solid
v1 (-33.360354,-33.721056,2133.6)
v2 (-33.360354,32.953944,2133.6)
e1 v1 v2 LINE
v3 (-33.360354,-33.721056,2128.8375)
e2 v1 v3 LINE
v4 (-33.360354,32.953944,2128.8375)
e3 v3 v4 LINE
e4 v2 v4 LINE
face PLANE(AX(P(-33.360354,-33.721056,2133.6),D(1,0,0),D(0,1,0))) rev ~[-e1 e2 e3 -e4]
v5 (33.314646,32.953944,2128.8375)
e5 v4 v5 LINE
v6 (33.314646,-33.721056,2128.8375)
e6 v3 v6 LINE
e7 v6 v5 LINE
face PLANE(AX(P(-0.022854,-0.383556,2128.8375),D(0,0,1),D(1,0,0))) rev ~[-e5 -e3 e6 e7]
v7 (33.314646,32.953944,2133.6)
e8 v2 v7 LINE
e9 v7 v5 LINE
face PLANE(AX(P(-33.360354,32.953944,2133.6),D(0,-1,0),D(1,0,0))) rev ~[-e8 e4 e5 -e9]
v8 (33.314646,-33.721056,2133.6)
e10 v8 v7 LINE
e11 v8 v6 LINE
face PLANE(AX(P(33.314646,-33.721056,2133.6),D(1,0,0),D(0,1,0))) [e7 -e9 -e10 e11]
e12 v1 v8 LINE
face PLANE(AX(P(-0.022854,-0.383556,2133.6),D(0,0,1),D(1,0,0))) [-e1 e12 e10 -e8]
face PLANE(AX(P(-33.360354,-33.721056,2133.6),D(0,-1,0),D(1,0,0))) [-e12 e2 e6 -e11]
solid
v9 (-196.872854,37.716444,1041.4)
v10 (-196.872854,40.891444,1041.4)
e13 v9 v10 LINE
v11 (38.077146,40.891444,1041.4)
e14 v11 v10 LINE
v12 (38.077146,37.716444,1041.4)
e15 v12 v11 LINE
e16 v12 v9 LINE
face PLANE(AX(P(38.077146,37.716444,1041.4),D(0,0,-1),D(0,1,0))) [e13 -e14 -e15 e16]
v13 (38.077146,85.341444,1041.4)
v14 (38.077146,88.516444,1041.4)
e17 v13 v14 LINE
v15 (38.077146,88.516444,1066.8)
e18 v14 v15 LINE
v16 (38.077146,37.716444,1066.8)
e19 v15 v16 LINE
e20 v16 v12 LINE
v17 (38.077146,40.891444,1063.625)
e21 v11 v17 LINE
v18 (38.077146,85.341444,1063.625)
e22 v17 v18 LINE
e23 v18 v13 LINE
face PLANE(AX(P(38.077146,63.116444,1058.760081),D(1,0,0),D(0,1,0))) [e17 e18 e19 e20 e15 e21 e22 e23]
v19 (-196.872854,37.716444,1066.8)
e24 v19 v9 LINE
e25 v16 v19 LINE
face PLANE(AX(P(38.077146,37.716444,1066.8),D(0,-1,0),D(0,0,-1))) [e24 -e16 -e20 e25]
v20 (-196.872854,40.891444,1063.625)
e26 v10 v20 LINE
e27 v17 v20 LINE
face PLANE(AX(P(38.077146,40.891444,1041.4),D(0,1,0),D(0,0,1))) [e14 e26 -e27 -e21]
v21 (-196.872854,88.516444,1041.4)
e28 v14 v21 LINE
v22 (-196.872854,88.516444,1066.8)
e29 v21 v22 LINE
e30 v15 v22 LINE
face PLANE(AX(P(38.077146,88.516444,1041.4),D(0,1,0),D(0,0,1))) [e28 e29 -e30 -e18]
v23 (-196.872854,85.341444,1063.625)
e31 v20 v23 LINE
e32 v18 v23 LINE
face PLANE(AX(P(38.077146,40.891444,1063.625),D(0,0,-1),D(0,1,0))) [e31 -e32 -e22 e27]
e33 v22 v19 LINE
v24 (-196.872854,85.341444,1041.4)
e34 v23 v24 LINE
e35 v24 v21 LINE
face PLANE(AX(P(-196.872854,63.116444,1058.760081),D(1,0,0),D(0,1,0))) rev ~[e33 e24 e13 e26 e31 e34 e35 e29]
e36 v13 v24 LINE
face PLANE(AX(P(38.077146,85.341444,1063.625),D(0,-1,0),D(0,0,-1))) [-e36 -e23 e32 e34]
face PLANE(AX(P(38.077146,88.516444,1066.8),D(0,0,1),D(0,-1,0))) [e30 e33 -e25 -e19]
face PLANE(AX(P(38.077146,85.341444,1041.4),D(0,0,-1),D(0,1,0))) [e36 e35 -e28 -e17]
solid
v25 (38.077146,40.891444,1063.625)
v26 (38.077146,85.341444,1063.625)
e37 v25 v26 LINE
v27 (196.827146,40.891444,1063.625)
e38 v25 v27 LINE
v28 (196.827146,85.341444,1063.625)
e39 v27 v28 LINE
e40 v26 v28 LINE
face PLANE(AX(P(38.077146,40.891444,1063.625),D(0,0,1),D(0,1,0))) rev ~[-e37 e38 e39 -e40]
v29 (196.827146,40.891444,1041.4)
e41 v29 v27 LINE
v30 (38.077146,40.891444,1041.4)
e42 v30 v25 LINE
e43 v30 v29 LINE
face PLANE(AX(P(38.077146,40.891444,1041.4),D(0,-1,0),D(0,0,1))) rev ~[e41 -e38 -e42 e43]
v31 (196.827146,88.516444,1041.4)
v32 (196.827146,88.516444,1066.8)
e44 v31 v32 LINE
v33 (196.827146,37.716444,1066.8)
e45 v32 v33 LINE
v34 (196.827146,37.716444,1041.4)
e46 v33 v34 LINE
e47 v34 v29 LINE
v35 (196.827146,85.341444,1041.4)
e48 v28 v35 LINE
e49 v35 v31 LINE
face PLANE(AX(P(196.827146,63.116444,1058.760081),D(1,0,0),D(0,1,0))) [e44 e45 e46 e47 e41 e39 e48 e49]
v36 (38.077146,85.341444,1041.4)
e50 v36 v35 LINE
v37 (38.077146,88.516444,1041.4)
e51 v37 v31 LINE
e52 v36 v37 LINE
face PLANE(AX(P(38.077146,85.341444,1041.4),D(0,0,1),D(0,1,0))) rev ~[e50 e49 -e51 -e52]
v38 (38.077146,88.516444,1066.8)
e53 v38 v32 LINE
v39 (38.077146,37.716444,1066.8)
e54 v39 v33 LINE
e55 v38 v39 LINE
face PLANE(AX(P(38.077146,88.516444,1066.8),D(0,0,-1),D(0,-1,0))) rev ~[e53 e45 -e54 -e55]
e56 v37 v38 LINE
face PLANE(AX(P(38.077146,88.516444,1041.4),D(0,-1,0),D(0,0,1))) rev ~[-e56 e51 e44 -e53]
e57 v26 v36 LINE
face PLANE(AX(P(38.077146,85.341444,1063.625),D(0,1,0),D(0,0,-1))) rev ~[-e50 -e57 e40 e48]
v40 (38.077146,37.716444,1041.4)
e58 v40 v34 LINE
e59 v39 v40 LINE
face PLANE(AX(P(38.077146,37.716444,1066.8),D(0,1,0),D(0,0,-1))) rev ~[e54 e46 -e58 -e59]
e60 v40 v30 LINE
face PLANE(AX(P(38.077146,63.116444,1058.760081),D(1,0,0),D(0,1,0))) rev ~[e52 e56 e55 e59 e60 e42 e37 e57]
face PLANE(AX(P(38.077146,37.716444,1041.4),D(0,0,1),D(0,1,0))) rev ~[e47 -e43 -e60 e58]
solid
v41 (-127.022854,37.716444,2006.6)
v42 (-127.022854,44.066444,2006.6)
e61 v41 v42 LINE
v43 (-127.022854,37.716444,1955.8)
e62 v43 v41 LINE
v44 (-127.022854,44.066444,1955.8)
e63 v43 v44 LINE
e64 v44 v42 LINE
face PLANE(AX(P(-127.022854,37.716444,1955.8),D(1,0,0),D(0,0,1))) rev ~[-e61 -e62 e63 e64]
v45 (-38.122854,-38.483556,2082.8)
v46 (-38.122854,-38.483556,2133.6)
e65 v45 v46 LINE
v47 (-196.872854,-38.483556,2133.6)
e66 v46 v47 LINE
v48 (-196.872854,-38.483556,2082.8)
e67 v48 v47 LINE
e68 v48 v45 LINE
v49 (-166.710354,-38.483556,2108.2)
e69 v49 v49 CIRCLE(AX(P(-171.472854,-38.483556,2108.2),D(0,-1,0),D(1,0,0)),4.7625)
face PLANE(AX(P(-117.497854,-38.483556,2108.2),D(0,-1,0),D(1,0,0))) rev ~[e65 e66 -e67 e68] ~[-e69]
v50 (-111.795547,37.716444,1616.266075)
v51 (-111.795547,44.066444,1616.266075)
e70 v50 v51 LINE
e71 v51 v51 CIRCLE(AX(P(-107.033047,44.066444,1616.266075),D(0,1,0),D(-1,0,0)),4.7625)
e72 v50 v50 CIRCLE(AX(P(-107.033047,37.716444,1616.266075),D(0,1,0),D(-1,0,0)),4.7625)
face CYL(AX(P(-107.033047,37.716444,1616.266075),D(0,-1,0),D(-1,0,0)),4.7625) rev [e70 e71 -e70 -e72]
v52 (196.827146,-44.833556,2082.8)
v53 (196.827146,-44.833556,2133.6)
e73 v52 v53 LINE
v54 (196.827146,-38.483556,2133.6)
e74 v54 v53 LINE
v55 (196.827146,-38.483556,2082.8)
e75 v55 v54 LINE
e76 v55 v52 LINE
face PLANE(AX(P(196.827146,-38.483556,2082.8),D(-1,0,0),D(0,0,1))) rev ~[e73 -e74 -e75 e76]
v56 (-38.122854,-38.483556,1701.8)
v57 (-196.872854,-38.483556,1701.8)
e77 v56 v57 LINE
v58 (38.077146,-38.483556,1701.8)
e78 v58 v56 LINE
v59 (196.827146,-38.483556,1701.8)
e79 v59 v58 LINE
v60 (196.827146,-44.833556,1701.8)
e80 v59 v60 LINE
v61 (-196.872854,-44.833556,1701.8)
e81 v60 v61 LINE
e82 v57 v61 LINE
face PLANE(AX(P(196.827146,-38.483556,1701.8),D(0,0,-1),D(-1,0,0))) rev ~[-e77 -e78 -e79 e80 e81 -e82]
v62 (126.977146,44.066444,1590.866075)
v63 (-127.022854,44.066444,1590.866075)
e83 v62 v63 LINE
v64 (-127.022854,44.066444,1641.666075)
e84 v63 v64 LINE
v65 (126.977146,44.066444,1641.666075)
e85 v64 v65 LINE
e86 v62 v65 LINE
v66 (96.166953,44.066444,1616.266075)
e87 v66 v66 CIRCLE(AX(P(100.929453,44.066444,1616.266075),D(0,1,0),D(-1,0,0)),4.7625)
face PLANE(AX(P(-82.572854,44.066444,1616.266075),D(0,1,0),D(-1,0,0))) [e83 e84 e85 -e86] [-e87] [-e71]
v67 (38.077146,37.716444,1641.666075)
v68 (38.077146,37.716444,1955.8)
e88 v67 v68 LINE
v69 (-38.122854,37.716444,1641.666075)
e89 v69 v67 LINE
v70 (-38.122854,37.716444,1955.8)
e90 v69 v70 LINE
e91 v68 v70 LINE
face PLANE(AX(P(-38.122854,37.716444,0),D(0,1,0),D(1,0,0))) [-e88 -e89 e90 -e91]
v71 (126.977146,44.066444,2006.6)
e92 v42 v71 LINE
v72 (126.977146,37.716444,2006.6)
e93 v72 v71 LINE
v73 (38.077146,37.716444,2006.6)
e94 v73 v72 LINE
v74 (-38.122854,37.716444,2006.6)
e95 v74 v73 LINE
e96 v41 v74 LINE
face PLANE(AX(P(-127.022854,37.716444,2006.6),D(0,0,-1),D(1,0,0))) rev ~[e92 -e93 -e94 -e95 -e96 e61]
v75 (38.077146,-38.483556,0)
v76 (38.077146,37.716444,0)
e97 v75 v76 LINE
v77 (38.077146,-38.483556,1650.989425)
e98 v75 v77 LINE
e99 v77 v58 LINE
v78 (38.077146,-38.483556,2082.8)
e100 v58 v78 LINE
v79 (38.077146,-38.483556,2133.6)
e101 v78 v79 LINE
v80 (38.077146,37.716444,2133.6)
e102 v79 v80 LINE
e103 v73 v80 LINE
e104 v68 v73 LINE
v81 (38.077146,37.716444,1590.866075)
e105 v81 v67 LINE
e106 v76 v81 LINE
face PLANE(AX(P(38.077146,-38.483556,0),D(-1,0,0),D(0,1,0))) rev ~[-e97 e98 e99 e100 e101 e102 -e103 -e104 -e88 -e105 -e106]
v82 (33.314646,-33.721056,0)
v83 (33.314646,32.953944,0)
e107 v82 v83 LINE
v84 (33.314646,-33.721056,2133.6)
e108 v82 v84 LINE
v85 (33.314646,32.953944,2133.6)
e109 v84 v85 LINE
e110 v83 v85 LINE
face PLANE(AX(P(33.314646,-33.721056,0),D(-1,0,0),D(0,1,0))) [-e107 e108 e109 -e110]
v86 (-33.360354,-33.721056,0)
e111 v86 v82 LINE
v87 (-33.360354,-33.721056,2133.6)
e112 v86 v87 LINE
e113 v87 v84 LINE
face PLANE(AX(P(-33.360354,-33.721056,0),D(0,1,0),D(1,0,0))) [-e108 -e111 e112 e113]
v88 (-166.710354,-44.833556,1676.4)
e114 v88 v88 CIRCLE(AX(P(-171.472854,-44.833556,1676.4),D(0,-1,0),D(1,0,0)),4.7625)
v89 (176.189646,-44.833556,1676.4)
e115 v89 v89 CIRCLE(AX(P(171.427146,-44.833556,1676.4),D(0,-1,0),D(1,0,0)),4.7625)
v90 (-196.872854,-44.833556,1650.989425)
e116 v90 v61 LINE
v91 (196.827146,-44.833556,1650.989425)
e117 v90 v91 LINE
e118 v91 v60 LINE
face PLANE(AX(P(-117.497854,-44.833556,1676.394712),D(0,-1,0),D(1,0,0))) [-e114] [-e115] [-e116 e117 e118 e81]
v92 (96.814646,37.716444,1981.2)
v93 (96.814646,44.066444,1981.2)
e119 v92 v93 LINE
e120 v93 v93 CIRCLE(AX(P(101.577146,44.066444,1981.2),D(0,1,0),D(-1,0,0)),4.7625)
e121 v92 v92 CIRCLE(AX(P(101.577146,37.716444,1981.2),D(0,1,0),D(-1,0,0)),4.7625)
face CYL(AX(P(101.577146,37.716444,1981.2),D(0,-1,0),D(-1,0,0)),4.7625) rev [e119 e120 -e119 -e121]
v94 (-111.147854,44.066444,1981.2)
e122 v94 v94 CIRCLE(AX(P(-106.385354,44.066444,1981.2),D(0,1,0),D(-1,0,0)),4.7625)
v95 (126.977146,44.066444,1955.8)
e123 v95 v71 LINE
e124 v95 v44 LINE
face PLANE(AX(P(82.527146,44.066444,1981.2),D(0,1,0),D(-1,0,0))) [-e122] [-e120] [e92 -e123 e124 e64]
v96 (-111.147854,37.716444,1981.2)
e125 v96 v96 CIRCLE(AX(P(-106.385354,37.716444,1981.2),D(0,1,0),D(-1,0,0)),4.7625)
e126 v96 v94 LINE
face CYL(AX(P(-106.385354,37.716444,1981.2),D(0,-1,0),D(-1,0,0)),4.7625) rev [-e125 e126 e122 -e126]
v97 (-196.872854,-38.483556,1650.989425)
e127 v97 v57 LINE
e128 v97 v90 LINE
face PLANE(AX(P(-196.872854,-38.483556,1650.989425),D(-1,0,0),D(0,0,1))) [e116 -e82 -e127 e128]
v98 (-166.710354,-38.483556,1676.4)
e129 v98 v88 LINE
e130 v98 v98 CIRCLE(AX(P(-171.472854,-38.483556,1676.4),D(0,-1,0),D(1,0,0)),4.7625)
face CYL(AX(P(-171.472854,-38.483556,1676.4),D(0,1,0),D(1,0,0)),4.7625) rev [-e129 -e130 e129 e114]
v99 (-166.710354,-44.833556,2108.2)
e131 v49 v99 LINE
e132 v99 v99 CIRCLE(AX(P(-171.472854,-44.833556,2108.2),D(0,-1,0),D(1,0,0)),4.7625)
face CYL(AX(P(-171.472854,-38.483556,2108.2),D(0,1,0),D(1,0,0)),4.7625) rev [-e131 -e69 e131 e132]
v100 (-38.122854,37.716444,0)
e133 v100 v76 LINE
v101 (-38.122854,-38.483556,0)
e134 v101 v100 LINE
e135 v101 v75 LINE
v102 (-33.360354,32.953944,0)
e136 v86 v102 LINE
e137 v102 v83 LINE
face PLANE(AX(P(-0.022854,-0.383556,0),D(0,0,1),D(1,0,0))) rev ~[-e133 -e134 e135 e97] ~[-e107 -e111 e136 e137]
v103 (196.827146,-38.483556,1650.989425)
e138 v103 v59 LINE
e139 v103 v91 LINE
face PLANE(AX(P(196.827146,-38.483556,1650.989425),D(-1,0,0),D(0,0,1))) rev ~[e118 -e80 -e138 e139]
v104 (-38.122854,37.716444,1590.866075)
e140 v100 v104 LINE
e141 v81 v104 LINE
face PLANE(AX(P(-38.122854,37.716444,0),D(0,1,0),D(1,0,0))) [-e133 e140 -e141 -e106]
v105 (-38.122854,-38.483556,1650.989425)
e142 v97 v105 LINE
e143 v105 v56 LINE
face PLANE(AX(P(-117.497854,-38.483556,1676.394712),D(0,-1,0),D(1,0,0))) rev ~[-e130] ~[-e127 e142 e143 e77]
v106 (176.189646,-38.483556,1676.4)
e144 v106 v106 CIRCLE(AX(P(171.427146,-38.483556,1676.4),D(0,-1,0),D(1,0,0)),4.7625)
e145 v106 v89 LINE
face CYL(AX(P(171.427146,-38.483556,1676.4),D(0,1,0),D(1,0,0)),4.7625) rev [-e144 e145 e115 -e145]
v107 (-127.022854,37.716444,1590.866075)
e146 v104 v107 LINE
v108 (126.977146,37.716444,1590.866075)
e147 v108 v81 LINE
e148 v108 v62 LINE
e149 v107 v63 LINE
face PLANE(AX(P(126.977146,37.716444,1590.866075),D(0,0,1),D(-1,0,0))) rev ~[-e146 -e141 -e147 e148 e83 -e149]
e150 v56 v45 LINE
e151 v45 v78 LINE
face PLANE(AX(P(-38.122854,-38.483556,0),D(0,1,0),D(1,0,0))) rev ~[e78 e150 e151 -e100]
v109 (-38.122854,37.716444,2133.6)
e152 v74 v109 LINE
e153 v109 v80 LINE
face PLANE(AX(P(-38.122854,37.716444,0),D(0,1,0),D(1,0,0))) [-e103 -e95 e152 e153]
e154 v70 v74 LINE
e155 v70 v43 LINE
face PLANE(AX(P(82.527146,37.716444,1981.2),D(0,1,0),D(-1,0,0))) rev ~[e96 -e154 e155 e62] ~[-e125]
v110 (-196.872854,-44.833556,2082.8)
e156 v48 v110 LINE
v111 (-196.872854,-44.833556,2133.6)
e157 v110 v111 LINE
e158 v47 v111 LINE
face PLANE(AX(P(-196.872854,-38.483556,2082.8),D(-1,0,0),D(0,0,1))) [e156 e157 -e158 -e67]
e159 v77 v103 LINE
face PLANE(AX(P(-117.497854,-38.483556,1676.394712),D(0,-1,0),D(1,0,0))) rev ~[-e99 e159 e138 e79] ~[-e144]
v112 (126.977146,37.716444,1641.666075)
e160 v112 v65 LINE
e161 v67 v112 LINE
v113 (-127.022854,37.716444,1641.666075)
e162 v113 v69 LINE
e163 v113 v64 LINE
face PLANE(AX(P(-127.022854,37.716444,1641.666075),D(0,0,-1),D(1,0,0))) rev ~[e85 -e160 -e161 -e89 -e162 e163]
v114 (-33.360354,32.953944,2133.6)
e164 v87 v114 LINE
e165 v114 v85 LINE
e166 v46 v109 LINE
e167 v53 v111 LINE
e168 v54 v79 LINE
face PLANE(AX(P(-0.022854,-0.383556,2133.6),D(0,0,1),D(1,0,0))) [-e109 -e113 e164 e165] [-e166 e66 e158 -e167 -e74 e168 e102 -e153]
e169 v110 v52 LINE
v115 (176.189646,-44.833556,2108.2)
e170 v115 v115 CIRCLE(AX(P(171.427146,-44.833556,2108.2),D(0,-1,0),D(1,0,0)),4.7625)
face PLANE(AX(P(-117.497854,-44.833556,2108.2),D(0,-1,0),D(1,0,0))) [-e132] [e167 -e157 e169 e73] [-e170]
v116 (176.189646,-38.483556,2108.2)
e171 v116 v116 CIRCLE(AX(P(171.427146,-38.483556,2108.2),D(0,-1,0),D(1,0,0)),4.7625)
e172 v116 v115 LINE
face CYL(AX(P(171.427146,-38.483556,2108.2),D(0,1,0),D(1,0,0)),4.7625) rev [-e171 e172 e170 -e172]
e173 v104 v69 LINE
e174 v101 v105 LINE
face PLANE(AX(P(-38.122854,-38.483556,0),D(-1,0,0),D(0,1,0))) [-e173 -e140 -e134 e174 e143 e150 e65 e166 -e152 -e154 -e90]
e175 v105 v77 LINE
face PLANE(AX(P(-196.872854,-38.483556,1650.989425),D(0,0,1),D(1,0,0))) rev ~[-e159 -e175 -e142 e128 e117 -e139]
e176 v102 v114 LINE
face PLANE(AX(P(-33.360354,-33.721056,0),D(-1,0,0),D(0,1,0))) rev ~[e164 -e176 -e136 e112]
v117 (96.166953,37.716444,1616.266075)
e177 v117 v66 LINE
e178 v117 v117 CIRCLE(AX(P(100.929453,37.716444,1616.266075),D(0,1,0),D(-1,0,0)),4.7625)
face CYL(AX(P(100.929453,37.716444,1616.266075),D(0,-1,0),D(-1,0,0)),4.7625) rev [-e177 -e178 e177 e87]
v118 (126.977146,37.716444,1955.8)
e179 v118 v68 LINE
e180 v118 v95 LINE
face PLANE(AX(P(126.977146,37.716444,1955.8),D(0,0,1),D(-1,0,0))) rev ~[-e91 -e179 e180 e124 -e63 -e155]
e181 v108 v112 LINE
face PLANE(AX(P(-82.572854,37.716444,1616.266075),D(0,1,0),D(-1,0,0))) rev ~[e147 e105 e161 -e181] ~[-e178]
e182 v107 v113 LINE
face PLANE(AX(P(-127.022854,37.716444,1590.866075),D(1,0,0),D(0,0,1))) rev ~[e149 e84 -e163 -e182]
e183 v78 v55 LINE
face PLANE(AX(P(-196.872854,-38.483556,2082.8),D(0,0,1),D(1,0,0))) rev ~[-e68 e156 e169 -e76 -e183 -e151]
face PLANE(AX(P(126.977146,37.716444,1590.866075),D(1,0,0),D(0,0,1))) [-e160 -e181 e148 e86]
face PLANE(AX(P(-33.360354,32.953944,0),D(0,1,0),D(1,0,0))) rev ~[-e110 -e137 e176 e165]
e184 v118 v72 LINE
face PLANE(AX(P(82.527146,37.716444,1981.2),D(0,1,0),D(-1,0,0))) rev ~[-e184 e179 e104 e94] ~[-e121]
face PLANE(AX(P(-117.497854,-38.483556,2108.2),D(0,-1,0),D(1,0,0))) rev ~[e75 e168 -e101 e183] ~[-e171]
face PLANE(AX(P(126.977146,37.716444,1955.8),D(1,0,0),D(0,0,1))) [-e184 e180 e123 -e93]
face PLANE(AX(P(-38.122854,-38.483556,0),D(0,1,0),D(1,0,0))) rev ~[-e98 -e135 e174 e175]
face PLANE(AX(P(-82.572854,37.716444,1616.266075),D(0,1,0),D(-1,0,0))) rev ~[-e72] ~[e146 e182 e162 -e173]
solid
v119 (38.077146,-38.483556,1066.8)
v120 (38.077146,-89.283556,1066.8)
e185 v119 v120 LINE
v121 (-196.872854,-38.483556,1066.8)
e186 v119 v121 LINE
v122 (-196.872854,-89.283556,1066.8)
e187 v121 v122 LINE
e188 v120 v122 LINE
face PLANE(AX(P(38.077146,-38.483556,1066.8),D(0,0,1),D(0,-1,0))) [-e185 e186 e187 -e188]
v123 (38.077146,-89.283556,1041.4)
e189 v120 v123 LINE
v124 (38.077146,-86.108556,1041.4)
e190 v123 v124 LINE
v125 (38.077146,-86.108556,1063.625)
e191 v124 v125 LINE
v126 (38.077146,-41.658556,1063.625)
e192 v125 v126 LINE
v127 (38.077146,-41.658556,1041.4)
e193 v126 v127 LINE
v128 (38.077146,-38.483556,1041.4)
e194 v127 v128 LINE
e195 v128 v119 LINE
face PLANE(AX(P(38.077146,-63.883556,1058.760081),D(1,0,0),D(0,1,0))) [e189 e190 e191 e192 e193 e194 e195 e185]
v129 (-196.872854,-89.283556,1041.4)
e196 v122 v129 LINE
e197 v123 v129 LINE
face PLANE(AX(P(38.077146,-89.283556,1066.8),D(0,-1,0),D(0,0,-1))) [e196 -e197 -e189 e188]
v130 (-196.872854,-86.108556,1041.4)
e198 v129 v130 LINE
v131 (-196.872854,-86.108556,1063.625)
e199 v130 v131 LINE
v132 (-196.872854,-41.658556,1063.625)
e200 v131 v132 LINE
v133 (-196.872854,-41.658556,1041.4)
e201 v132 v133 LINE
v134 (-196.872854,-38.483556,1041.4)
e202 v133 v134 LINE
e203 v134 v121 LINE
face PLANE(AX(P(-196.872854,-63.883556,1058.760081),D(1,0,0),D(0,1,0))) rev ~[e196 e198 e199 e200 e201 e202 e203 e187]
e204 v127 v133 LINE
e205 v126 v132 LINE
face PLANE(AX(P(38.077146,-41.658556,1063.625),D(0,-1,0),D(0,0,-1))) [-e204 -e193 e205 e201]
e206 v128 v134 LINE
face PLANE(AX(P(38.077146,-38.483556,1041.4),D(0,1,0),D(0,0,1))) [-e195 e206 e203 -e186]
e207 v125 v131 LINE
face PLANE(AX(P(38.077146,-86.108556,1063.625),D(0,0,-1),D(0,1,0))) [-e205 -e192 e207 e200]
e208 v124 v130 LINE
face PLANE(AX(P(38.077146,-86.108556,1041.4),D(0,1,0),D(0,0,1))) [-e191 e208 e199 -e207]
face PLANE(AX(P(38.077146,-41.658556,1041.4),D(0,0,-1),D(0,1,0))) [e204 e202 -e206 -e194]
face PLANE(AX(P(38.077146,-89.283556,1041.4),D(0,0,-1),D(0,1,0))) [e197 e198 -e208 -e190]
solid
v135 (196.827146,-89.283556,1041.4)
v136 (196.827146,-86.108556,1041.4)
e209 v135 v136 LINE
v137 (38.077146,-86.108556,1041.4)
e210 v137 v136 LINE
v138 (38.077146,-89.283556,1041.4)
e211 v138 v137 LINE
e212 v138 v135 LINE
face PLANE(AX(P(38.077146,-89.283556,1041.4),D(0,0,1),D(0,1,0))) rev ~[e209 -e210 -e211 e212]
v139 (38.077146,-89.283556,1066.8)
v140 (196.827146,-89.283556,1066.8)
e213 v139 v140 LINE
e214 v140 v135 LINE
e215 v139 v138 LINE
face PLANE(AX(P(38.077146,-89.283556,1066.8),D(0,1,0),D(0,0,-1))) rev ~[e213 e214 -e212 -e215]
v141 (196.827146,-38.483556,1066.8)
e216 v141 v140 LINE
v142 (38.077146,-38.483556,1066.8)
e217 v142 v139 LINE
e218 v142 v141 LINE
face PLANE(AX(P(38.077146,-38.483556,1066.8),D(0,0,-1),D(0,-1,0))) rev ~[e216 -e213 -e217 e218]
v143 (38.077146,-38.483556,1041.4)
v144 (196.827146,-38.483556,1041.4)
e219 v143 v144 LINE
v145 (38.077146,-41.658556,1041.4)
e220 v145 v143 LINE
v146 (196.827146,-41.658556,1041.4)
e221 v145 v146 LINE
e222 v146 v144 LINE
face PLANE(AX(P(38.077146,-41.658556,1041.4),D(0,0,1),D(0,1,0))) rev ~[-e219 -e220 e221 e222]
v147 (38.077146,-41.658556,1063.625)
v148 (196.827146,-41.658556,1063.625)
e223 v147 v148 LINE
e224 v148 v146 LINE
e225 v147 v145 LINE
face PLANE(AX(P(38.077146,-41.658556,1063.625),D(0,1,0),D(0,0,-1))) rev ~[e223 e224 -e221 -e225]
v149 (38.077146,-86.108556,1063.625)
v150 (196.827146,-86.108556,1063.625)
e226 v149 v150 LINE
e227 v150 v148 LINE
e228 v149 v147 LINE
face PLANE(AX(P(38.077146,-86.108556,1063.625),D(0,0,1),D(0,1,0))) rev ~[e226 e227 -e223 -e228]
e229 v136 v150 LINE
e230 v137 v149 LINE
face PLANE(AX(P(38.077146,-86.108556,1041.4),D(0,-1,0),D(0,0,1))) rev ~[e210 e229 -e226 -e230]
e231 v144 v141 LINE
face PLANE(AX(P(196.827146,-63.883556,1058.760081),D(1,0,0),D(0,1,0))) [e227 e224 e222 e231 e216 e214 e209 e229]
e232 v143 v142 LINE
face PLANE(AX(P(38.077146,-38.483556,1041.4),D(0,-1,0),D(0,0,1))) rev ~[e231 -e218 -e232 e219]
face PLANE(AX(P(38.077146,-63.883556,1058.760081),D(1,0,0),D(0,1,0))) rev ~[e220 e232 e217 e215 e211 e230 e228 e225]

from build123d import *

# Parameters (mm, degrees)
F0_W      = 76.2
F0_H      = 76.2
F0_W_2    = 66.675
F0_H_2    = 66.675
F1_DEPTH  = 2133.6
F2_W      = 66.675
F2_H      = 66.675
F4_DEPTH  = 4.7625
F5_W      = 158.75
F5_H      = 50.8105754852
F5_R      = 4.7625
F5_W_2    = 76.2
F5_H_2    = 50.8
F6_DEPTH  = 6.35
F7_W      = 88.9
F7_H      = 50.8
F7_R      = 4.7625
F7_W_2    = 76.2
F8_DEPTH  = 6.35
F10_DEPTH = 158.75
F11_DEPTH = 234.95


with BuildPart() as f1:
    # F0 (on Top) → F1 (new body)
    with BuildSketch(Plane.XY):
        with Locations((-0.0228539575, -0.3835560492)):
            Rectangle(F0_W, F0_H)
        with Locations((-0.0228539575, -0.3835560492)):
            Rectangle(F0_W_2, F0_H_2, mode=Mode.SUBTRACT)
    extrude(amount=F1_DEPTH)

    # F5 (on face) → F6 (join)
    with BuildSketch(Plane.XZ.offset(38.4835560492)):
        with Locations((-117.4978539575, 1676.3947122574)):
            Rectangle(F5_W, F5_H)
        with Locations((-171.4728539575, 1676.4)):
            Circle(F5_R, mode=Mode.SUBTRACT)
        with Locations((117.4521460425, 1676.3947122574)):
            Rectangle(F5_W, F5_H)
        with Locations((171.4271460425, 1676.4)):
            Circle(F5_R, mode=Mode.SUBTRACT)
        with Locations((-0.0228539575, 1676.3947122574)):
            Rectangle(F5_W_2, F5_H)
        with Locations((-117.4978539575, 2108.2)):
            Rectangle(F5_W, F5_H_2)
        with Locations((-171.4728539575, 2108.2)):
            Circle(F5_R, mode=Mode.SUBTRACT)
        with Locations((-0.0228539575, 2108.2)):
            Rectangle(F5_W_2, F5_H_2)
        with Locations((117.4521460425, 2108.2)):
            Rectangle(F5_W, F5_H_2)
        with Locations((171.4271460425, 2108.2)):
            Circle(F5_R, mode=Mode.SUBTRACT)
    extrude(amount=F6_DEPTH)

    # F7 (on face) → F8 (join)
    with BuildSketch(Plane(origin=(0, 37.7164439508, 0), x_dir=(-1, 0, 0), z_dir=(0, 1, 0))):
        with Locations((-82.5271460425, 1981.2)):
            Rectangle(F7_W, F7_H)
        with Locations((-101.5771460425, 1981.2)):
            Circle(F7_R, mode=Mode.SUBTRACT)
        with Locations((82.5728539575, 1981.2)):
            Rectangle(F7_W, F7_H)
        with Locations((106.3853539575, 1981.2)):
            Circle(F7_R, mode=Mode.SUBTRACT)
        with Locations((82.5728539575, 1616.2660747699)):
            Rectangle(F7_W, F7_H)
        with Locations((107.0330470852, 1616.2660747699)):
            Circle(F7_R, mode=Mode.SUBTRACT)
        with Locations((0.0228539575, 1981.2)):
            Rectangle(F7_W_2, F7_H)
        with Locations((0.0228539575, 1616.2660747699)):
            Rectangle(F7_W_2, F7_H)
        with Locations((-82.5271460425, 1616.2660747699)):
            Rectangle(F7_W, F7_H)
        with Locations((-100.9294529148, 1616.2660747699)):
            Circle(F7_R, mode=Mode.SUBTRACT)
    extrude(amount=F8_DEPTH)


with BuildPart() as f4:
    # F2 (on face) → F4 (new body)
    with BuildSketch(Plane.XY.offset(2133.6)):
        with Locations((-0.0228539575, -0.3835560492)):
            Rectangle(F2_W, F2_H)
    extrude(amount=-F4_DEPTH)


with BuildPart() as f10:
    # F9 (on face) → F10 (new body)
    with BuildSketch(Plane.YZ.offset(38.0771460425)):
        Polygon((-38.4835560492, 1041.4), (-38.4835560492, 1066.8), (-89.2835560492, 1066.8), (-89.2835560492, 1041.4), (-86.1085560492, 1041.4), (-86.1085560492, 1063.625), (-41.6585560492, 1063.625), (-41.6585560492, 1041.4), align=None)
    extrude(amount=F10_DEPTH)


with BuildPart() as f10b:
    # F9 (on face) → F10, piece 2 (new body)
    with BuildSketch(Plane.YZ.offset(38.0771460425)):
        Polygon((37.7164439508, 1066.8), (37.7164439508, 1041.4), (40.8914439508, 1041.4), (40.8914439508, 1063.625), (85.3414439508, 1063.625), (85.3414439508, 1041.4), (88.5164439508, 1041.4), (88.5164439508, 1066.8), align=None)
    extrude(amount=F10_DEPTH)


with BuildPart() as f11:
    # F11 (new): a face of the model
    f11_faces = [f10b.part.faces().sort_by_distance(p)[0] for p in [
        (38.0771460425, 38.2844052171, 1054.1),
    ]]
    extrude(f11_faces, amount=F11_DEPTH)


with BuildPart() as f11b:
    # F11#2 (new): a face of the model
    f11_2_faces = [f10.part.faces().sort_by_distance(p)[0] for p in [
        (38.0771460425, -39.0515173155, 1054.1),
    ]]
    extrude(f11_2_faces, amount=F11_DEPTH)


solid = Compound([f1.part, f4.part, f10.part, f10b.part, f11.part, f11b.part])
